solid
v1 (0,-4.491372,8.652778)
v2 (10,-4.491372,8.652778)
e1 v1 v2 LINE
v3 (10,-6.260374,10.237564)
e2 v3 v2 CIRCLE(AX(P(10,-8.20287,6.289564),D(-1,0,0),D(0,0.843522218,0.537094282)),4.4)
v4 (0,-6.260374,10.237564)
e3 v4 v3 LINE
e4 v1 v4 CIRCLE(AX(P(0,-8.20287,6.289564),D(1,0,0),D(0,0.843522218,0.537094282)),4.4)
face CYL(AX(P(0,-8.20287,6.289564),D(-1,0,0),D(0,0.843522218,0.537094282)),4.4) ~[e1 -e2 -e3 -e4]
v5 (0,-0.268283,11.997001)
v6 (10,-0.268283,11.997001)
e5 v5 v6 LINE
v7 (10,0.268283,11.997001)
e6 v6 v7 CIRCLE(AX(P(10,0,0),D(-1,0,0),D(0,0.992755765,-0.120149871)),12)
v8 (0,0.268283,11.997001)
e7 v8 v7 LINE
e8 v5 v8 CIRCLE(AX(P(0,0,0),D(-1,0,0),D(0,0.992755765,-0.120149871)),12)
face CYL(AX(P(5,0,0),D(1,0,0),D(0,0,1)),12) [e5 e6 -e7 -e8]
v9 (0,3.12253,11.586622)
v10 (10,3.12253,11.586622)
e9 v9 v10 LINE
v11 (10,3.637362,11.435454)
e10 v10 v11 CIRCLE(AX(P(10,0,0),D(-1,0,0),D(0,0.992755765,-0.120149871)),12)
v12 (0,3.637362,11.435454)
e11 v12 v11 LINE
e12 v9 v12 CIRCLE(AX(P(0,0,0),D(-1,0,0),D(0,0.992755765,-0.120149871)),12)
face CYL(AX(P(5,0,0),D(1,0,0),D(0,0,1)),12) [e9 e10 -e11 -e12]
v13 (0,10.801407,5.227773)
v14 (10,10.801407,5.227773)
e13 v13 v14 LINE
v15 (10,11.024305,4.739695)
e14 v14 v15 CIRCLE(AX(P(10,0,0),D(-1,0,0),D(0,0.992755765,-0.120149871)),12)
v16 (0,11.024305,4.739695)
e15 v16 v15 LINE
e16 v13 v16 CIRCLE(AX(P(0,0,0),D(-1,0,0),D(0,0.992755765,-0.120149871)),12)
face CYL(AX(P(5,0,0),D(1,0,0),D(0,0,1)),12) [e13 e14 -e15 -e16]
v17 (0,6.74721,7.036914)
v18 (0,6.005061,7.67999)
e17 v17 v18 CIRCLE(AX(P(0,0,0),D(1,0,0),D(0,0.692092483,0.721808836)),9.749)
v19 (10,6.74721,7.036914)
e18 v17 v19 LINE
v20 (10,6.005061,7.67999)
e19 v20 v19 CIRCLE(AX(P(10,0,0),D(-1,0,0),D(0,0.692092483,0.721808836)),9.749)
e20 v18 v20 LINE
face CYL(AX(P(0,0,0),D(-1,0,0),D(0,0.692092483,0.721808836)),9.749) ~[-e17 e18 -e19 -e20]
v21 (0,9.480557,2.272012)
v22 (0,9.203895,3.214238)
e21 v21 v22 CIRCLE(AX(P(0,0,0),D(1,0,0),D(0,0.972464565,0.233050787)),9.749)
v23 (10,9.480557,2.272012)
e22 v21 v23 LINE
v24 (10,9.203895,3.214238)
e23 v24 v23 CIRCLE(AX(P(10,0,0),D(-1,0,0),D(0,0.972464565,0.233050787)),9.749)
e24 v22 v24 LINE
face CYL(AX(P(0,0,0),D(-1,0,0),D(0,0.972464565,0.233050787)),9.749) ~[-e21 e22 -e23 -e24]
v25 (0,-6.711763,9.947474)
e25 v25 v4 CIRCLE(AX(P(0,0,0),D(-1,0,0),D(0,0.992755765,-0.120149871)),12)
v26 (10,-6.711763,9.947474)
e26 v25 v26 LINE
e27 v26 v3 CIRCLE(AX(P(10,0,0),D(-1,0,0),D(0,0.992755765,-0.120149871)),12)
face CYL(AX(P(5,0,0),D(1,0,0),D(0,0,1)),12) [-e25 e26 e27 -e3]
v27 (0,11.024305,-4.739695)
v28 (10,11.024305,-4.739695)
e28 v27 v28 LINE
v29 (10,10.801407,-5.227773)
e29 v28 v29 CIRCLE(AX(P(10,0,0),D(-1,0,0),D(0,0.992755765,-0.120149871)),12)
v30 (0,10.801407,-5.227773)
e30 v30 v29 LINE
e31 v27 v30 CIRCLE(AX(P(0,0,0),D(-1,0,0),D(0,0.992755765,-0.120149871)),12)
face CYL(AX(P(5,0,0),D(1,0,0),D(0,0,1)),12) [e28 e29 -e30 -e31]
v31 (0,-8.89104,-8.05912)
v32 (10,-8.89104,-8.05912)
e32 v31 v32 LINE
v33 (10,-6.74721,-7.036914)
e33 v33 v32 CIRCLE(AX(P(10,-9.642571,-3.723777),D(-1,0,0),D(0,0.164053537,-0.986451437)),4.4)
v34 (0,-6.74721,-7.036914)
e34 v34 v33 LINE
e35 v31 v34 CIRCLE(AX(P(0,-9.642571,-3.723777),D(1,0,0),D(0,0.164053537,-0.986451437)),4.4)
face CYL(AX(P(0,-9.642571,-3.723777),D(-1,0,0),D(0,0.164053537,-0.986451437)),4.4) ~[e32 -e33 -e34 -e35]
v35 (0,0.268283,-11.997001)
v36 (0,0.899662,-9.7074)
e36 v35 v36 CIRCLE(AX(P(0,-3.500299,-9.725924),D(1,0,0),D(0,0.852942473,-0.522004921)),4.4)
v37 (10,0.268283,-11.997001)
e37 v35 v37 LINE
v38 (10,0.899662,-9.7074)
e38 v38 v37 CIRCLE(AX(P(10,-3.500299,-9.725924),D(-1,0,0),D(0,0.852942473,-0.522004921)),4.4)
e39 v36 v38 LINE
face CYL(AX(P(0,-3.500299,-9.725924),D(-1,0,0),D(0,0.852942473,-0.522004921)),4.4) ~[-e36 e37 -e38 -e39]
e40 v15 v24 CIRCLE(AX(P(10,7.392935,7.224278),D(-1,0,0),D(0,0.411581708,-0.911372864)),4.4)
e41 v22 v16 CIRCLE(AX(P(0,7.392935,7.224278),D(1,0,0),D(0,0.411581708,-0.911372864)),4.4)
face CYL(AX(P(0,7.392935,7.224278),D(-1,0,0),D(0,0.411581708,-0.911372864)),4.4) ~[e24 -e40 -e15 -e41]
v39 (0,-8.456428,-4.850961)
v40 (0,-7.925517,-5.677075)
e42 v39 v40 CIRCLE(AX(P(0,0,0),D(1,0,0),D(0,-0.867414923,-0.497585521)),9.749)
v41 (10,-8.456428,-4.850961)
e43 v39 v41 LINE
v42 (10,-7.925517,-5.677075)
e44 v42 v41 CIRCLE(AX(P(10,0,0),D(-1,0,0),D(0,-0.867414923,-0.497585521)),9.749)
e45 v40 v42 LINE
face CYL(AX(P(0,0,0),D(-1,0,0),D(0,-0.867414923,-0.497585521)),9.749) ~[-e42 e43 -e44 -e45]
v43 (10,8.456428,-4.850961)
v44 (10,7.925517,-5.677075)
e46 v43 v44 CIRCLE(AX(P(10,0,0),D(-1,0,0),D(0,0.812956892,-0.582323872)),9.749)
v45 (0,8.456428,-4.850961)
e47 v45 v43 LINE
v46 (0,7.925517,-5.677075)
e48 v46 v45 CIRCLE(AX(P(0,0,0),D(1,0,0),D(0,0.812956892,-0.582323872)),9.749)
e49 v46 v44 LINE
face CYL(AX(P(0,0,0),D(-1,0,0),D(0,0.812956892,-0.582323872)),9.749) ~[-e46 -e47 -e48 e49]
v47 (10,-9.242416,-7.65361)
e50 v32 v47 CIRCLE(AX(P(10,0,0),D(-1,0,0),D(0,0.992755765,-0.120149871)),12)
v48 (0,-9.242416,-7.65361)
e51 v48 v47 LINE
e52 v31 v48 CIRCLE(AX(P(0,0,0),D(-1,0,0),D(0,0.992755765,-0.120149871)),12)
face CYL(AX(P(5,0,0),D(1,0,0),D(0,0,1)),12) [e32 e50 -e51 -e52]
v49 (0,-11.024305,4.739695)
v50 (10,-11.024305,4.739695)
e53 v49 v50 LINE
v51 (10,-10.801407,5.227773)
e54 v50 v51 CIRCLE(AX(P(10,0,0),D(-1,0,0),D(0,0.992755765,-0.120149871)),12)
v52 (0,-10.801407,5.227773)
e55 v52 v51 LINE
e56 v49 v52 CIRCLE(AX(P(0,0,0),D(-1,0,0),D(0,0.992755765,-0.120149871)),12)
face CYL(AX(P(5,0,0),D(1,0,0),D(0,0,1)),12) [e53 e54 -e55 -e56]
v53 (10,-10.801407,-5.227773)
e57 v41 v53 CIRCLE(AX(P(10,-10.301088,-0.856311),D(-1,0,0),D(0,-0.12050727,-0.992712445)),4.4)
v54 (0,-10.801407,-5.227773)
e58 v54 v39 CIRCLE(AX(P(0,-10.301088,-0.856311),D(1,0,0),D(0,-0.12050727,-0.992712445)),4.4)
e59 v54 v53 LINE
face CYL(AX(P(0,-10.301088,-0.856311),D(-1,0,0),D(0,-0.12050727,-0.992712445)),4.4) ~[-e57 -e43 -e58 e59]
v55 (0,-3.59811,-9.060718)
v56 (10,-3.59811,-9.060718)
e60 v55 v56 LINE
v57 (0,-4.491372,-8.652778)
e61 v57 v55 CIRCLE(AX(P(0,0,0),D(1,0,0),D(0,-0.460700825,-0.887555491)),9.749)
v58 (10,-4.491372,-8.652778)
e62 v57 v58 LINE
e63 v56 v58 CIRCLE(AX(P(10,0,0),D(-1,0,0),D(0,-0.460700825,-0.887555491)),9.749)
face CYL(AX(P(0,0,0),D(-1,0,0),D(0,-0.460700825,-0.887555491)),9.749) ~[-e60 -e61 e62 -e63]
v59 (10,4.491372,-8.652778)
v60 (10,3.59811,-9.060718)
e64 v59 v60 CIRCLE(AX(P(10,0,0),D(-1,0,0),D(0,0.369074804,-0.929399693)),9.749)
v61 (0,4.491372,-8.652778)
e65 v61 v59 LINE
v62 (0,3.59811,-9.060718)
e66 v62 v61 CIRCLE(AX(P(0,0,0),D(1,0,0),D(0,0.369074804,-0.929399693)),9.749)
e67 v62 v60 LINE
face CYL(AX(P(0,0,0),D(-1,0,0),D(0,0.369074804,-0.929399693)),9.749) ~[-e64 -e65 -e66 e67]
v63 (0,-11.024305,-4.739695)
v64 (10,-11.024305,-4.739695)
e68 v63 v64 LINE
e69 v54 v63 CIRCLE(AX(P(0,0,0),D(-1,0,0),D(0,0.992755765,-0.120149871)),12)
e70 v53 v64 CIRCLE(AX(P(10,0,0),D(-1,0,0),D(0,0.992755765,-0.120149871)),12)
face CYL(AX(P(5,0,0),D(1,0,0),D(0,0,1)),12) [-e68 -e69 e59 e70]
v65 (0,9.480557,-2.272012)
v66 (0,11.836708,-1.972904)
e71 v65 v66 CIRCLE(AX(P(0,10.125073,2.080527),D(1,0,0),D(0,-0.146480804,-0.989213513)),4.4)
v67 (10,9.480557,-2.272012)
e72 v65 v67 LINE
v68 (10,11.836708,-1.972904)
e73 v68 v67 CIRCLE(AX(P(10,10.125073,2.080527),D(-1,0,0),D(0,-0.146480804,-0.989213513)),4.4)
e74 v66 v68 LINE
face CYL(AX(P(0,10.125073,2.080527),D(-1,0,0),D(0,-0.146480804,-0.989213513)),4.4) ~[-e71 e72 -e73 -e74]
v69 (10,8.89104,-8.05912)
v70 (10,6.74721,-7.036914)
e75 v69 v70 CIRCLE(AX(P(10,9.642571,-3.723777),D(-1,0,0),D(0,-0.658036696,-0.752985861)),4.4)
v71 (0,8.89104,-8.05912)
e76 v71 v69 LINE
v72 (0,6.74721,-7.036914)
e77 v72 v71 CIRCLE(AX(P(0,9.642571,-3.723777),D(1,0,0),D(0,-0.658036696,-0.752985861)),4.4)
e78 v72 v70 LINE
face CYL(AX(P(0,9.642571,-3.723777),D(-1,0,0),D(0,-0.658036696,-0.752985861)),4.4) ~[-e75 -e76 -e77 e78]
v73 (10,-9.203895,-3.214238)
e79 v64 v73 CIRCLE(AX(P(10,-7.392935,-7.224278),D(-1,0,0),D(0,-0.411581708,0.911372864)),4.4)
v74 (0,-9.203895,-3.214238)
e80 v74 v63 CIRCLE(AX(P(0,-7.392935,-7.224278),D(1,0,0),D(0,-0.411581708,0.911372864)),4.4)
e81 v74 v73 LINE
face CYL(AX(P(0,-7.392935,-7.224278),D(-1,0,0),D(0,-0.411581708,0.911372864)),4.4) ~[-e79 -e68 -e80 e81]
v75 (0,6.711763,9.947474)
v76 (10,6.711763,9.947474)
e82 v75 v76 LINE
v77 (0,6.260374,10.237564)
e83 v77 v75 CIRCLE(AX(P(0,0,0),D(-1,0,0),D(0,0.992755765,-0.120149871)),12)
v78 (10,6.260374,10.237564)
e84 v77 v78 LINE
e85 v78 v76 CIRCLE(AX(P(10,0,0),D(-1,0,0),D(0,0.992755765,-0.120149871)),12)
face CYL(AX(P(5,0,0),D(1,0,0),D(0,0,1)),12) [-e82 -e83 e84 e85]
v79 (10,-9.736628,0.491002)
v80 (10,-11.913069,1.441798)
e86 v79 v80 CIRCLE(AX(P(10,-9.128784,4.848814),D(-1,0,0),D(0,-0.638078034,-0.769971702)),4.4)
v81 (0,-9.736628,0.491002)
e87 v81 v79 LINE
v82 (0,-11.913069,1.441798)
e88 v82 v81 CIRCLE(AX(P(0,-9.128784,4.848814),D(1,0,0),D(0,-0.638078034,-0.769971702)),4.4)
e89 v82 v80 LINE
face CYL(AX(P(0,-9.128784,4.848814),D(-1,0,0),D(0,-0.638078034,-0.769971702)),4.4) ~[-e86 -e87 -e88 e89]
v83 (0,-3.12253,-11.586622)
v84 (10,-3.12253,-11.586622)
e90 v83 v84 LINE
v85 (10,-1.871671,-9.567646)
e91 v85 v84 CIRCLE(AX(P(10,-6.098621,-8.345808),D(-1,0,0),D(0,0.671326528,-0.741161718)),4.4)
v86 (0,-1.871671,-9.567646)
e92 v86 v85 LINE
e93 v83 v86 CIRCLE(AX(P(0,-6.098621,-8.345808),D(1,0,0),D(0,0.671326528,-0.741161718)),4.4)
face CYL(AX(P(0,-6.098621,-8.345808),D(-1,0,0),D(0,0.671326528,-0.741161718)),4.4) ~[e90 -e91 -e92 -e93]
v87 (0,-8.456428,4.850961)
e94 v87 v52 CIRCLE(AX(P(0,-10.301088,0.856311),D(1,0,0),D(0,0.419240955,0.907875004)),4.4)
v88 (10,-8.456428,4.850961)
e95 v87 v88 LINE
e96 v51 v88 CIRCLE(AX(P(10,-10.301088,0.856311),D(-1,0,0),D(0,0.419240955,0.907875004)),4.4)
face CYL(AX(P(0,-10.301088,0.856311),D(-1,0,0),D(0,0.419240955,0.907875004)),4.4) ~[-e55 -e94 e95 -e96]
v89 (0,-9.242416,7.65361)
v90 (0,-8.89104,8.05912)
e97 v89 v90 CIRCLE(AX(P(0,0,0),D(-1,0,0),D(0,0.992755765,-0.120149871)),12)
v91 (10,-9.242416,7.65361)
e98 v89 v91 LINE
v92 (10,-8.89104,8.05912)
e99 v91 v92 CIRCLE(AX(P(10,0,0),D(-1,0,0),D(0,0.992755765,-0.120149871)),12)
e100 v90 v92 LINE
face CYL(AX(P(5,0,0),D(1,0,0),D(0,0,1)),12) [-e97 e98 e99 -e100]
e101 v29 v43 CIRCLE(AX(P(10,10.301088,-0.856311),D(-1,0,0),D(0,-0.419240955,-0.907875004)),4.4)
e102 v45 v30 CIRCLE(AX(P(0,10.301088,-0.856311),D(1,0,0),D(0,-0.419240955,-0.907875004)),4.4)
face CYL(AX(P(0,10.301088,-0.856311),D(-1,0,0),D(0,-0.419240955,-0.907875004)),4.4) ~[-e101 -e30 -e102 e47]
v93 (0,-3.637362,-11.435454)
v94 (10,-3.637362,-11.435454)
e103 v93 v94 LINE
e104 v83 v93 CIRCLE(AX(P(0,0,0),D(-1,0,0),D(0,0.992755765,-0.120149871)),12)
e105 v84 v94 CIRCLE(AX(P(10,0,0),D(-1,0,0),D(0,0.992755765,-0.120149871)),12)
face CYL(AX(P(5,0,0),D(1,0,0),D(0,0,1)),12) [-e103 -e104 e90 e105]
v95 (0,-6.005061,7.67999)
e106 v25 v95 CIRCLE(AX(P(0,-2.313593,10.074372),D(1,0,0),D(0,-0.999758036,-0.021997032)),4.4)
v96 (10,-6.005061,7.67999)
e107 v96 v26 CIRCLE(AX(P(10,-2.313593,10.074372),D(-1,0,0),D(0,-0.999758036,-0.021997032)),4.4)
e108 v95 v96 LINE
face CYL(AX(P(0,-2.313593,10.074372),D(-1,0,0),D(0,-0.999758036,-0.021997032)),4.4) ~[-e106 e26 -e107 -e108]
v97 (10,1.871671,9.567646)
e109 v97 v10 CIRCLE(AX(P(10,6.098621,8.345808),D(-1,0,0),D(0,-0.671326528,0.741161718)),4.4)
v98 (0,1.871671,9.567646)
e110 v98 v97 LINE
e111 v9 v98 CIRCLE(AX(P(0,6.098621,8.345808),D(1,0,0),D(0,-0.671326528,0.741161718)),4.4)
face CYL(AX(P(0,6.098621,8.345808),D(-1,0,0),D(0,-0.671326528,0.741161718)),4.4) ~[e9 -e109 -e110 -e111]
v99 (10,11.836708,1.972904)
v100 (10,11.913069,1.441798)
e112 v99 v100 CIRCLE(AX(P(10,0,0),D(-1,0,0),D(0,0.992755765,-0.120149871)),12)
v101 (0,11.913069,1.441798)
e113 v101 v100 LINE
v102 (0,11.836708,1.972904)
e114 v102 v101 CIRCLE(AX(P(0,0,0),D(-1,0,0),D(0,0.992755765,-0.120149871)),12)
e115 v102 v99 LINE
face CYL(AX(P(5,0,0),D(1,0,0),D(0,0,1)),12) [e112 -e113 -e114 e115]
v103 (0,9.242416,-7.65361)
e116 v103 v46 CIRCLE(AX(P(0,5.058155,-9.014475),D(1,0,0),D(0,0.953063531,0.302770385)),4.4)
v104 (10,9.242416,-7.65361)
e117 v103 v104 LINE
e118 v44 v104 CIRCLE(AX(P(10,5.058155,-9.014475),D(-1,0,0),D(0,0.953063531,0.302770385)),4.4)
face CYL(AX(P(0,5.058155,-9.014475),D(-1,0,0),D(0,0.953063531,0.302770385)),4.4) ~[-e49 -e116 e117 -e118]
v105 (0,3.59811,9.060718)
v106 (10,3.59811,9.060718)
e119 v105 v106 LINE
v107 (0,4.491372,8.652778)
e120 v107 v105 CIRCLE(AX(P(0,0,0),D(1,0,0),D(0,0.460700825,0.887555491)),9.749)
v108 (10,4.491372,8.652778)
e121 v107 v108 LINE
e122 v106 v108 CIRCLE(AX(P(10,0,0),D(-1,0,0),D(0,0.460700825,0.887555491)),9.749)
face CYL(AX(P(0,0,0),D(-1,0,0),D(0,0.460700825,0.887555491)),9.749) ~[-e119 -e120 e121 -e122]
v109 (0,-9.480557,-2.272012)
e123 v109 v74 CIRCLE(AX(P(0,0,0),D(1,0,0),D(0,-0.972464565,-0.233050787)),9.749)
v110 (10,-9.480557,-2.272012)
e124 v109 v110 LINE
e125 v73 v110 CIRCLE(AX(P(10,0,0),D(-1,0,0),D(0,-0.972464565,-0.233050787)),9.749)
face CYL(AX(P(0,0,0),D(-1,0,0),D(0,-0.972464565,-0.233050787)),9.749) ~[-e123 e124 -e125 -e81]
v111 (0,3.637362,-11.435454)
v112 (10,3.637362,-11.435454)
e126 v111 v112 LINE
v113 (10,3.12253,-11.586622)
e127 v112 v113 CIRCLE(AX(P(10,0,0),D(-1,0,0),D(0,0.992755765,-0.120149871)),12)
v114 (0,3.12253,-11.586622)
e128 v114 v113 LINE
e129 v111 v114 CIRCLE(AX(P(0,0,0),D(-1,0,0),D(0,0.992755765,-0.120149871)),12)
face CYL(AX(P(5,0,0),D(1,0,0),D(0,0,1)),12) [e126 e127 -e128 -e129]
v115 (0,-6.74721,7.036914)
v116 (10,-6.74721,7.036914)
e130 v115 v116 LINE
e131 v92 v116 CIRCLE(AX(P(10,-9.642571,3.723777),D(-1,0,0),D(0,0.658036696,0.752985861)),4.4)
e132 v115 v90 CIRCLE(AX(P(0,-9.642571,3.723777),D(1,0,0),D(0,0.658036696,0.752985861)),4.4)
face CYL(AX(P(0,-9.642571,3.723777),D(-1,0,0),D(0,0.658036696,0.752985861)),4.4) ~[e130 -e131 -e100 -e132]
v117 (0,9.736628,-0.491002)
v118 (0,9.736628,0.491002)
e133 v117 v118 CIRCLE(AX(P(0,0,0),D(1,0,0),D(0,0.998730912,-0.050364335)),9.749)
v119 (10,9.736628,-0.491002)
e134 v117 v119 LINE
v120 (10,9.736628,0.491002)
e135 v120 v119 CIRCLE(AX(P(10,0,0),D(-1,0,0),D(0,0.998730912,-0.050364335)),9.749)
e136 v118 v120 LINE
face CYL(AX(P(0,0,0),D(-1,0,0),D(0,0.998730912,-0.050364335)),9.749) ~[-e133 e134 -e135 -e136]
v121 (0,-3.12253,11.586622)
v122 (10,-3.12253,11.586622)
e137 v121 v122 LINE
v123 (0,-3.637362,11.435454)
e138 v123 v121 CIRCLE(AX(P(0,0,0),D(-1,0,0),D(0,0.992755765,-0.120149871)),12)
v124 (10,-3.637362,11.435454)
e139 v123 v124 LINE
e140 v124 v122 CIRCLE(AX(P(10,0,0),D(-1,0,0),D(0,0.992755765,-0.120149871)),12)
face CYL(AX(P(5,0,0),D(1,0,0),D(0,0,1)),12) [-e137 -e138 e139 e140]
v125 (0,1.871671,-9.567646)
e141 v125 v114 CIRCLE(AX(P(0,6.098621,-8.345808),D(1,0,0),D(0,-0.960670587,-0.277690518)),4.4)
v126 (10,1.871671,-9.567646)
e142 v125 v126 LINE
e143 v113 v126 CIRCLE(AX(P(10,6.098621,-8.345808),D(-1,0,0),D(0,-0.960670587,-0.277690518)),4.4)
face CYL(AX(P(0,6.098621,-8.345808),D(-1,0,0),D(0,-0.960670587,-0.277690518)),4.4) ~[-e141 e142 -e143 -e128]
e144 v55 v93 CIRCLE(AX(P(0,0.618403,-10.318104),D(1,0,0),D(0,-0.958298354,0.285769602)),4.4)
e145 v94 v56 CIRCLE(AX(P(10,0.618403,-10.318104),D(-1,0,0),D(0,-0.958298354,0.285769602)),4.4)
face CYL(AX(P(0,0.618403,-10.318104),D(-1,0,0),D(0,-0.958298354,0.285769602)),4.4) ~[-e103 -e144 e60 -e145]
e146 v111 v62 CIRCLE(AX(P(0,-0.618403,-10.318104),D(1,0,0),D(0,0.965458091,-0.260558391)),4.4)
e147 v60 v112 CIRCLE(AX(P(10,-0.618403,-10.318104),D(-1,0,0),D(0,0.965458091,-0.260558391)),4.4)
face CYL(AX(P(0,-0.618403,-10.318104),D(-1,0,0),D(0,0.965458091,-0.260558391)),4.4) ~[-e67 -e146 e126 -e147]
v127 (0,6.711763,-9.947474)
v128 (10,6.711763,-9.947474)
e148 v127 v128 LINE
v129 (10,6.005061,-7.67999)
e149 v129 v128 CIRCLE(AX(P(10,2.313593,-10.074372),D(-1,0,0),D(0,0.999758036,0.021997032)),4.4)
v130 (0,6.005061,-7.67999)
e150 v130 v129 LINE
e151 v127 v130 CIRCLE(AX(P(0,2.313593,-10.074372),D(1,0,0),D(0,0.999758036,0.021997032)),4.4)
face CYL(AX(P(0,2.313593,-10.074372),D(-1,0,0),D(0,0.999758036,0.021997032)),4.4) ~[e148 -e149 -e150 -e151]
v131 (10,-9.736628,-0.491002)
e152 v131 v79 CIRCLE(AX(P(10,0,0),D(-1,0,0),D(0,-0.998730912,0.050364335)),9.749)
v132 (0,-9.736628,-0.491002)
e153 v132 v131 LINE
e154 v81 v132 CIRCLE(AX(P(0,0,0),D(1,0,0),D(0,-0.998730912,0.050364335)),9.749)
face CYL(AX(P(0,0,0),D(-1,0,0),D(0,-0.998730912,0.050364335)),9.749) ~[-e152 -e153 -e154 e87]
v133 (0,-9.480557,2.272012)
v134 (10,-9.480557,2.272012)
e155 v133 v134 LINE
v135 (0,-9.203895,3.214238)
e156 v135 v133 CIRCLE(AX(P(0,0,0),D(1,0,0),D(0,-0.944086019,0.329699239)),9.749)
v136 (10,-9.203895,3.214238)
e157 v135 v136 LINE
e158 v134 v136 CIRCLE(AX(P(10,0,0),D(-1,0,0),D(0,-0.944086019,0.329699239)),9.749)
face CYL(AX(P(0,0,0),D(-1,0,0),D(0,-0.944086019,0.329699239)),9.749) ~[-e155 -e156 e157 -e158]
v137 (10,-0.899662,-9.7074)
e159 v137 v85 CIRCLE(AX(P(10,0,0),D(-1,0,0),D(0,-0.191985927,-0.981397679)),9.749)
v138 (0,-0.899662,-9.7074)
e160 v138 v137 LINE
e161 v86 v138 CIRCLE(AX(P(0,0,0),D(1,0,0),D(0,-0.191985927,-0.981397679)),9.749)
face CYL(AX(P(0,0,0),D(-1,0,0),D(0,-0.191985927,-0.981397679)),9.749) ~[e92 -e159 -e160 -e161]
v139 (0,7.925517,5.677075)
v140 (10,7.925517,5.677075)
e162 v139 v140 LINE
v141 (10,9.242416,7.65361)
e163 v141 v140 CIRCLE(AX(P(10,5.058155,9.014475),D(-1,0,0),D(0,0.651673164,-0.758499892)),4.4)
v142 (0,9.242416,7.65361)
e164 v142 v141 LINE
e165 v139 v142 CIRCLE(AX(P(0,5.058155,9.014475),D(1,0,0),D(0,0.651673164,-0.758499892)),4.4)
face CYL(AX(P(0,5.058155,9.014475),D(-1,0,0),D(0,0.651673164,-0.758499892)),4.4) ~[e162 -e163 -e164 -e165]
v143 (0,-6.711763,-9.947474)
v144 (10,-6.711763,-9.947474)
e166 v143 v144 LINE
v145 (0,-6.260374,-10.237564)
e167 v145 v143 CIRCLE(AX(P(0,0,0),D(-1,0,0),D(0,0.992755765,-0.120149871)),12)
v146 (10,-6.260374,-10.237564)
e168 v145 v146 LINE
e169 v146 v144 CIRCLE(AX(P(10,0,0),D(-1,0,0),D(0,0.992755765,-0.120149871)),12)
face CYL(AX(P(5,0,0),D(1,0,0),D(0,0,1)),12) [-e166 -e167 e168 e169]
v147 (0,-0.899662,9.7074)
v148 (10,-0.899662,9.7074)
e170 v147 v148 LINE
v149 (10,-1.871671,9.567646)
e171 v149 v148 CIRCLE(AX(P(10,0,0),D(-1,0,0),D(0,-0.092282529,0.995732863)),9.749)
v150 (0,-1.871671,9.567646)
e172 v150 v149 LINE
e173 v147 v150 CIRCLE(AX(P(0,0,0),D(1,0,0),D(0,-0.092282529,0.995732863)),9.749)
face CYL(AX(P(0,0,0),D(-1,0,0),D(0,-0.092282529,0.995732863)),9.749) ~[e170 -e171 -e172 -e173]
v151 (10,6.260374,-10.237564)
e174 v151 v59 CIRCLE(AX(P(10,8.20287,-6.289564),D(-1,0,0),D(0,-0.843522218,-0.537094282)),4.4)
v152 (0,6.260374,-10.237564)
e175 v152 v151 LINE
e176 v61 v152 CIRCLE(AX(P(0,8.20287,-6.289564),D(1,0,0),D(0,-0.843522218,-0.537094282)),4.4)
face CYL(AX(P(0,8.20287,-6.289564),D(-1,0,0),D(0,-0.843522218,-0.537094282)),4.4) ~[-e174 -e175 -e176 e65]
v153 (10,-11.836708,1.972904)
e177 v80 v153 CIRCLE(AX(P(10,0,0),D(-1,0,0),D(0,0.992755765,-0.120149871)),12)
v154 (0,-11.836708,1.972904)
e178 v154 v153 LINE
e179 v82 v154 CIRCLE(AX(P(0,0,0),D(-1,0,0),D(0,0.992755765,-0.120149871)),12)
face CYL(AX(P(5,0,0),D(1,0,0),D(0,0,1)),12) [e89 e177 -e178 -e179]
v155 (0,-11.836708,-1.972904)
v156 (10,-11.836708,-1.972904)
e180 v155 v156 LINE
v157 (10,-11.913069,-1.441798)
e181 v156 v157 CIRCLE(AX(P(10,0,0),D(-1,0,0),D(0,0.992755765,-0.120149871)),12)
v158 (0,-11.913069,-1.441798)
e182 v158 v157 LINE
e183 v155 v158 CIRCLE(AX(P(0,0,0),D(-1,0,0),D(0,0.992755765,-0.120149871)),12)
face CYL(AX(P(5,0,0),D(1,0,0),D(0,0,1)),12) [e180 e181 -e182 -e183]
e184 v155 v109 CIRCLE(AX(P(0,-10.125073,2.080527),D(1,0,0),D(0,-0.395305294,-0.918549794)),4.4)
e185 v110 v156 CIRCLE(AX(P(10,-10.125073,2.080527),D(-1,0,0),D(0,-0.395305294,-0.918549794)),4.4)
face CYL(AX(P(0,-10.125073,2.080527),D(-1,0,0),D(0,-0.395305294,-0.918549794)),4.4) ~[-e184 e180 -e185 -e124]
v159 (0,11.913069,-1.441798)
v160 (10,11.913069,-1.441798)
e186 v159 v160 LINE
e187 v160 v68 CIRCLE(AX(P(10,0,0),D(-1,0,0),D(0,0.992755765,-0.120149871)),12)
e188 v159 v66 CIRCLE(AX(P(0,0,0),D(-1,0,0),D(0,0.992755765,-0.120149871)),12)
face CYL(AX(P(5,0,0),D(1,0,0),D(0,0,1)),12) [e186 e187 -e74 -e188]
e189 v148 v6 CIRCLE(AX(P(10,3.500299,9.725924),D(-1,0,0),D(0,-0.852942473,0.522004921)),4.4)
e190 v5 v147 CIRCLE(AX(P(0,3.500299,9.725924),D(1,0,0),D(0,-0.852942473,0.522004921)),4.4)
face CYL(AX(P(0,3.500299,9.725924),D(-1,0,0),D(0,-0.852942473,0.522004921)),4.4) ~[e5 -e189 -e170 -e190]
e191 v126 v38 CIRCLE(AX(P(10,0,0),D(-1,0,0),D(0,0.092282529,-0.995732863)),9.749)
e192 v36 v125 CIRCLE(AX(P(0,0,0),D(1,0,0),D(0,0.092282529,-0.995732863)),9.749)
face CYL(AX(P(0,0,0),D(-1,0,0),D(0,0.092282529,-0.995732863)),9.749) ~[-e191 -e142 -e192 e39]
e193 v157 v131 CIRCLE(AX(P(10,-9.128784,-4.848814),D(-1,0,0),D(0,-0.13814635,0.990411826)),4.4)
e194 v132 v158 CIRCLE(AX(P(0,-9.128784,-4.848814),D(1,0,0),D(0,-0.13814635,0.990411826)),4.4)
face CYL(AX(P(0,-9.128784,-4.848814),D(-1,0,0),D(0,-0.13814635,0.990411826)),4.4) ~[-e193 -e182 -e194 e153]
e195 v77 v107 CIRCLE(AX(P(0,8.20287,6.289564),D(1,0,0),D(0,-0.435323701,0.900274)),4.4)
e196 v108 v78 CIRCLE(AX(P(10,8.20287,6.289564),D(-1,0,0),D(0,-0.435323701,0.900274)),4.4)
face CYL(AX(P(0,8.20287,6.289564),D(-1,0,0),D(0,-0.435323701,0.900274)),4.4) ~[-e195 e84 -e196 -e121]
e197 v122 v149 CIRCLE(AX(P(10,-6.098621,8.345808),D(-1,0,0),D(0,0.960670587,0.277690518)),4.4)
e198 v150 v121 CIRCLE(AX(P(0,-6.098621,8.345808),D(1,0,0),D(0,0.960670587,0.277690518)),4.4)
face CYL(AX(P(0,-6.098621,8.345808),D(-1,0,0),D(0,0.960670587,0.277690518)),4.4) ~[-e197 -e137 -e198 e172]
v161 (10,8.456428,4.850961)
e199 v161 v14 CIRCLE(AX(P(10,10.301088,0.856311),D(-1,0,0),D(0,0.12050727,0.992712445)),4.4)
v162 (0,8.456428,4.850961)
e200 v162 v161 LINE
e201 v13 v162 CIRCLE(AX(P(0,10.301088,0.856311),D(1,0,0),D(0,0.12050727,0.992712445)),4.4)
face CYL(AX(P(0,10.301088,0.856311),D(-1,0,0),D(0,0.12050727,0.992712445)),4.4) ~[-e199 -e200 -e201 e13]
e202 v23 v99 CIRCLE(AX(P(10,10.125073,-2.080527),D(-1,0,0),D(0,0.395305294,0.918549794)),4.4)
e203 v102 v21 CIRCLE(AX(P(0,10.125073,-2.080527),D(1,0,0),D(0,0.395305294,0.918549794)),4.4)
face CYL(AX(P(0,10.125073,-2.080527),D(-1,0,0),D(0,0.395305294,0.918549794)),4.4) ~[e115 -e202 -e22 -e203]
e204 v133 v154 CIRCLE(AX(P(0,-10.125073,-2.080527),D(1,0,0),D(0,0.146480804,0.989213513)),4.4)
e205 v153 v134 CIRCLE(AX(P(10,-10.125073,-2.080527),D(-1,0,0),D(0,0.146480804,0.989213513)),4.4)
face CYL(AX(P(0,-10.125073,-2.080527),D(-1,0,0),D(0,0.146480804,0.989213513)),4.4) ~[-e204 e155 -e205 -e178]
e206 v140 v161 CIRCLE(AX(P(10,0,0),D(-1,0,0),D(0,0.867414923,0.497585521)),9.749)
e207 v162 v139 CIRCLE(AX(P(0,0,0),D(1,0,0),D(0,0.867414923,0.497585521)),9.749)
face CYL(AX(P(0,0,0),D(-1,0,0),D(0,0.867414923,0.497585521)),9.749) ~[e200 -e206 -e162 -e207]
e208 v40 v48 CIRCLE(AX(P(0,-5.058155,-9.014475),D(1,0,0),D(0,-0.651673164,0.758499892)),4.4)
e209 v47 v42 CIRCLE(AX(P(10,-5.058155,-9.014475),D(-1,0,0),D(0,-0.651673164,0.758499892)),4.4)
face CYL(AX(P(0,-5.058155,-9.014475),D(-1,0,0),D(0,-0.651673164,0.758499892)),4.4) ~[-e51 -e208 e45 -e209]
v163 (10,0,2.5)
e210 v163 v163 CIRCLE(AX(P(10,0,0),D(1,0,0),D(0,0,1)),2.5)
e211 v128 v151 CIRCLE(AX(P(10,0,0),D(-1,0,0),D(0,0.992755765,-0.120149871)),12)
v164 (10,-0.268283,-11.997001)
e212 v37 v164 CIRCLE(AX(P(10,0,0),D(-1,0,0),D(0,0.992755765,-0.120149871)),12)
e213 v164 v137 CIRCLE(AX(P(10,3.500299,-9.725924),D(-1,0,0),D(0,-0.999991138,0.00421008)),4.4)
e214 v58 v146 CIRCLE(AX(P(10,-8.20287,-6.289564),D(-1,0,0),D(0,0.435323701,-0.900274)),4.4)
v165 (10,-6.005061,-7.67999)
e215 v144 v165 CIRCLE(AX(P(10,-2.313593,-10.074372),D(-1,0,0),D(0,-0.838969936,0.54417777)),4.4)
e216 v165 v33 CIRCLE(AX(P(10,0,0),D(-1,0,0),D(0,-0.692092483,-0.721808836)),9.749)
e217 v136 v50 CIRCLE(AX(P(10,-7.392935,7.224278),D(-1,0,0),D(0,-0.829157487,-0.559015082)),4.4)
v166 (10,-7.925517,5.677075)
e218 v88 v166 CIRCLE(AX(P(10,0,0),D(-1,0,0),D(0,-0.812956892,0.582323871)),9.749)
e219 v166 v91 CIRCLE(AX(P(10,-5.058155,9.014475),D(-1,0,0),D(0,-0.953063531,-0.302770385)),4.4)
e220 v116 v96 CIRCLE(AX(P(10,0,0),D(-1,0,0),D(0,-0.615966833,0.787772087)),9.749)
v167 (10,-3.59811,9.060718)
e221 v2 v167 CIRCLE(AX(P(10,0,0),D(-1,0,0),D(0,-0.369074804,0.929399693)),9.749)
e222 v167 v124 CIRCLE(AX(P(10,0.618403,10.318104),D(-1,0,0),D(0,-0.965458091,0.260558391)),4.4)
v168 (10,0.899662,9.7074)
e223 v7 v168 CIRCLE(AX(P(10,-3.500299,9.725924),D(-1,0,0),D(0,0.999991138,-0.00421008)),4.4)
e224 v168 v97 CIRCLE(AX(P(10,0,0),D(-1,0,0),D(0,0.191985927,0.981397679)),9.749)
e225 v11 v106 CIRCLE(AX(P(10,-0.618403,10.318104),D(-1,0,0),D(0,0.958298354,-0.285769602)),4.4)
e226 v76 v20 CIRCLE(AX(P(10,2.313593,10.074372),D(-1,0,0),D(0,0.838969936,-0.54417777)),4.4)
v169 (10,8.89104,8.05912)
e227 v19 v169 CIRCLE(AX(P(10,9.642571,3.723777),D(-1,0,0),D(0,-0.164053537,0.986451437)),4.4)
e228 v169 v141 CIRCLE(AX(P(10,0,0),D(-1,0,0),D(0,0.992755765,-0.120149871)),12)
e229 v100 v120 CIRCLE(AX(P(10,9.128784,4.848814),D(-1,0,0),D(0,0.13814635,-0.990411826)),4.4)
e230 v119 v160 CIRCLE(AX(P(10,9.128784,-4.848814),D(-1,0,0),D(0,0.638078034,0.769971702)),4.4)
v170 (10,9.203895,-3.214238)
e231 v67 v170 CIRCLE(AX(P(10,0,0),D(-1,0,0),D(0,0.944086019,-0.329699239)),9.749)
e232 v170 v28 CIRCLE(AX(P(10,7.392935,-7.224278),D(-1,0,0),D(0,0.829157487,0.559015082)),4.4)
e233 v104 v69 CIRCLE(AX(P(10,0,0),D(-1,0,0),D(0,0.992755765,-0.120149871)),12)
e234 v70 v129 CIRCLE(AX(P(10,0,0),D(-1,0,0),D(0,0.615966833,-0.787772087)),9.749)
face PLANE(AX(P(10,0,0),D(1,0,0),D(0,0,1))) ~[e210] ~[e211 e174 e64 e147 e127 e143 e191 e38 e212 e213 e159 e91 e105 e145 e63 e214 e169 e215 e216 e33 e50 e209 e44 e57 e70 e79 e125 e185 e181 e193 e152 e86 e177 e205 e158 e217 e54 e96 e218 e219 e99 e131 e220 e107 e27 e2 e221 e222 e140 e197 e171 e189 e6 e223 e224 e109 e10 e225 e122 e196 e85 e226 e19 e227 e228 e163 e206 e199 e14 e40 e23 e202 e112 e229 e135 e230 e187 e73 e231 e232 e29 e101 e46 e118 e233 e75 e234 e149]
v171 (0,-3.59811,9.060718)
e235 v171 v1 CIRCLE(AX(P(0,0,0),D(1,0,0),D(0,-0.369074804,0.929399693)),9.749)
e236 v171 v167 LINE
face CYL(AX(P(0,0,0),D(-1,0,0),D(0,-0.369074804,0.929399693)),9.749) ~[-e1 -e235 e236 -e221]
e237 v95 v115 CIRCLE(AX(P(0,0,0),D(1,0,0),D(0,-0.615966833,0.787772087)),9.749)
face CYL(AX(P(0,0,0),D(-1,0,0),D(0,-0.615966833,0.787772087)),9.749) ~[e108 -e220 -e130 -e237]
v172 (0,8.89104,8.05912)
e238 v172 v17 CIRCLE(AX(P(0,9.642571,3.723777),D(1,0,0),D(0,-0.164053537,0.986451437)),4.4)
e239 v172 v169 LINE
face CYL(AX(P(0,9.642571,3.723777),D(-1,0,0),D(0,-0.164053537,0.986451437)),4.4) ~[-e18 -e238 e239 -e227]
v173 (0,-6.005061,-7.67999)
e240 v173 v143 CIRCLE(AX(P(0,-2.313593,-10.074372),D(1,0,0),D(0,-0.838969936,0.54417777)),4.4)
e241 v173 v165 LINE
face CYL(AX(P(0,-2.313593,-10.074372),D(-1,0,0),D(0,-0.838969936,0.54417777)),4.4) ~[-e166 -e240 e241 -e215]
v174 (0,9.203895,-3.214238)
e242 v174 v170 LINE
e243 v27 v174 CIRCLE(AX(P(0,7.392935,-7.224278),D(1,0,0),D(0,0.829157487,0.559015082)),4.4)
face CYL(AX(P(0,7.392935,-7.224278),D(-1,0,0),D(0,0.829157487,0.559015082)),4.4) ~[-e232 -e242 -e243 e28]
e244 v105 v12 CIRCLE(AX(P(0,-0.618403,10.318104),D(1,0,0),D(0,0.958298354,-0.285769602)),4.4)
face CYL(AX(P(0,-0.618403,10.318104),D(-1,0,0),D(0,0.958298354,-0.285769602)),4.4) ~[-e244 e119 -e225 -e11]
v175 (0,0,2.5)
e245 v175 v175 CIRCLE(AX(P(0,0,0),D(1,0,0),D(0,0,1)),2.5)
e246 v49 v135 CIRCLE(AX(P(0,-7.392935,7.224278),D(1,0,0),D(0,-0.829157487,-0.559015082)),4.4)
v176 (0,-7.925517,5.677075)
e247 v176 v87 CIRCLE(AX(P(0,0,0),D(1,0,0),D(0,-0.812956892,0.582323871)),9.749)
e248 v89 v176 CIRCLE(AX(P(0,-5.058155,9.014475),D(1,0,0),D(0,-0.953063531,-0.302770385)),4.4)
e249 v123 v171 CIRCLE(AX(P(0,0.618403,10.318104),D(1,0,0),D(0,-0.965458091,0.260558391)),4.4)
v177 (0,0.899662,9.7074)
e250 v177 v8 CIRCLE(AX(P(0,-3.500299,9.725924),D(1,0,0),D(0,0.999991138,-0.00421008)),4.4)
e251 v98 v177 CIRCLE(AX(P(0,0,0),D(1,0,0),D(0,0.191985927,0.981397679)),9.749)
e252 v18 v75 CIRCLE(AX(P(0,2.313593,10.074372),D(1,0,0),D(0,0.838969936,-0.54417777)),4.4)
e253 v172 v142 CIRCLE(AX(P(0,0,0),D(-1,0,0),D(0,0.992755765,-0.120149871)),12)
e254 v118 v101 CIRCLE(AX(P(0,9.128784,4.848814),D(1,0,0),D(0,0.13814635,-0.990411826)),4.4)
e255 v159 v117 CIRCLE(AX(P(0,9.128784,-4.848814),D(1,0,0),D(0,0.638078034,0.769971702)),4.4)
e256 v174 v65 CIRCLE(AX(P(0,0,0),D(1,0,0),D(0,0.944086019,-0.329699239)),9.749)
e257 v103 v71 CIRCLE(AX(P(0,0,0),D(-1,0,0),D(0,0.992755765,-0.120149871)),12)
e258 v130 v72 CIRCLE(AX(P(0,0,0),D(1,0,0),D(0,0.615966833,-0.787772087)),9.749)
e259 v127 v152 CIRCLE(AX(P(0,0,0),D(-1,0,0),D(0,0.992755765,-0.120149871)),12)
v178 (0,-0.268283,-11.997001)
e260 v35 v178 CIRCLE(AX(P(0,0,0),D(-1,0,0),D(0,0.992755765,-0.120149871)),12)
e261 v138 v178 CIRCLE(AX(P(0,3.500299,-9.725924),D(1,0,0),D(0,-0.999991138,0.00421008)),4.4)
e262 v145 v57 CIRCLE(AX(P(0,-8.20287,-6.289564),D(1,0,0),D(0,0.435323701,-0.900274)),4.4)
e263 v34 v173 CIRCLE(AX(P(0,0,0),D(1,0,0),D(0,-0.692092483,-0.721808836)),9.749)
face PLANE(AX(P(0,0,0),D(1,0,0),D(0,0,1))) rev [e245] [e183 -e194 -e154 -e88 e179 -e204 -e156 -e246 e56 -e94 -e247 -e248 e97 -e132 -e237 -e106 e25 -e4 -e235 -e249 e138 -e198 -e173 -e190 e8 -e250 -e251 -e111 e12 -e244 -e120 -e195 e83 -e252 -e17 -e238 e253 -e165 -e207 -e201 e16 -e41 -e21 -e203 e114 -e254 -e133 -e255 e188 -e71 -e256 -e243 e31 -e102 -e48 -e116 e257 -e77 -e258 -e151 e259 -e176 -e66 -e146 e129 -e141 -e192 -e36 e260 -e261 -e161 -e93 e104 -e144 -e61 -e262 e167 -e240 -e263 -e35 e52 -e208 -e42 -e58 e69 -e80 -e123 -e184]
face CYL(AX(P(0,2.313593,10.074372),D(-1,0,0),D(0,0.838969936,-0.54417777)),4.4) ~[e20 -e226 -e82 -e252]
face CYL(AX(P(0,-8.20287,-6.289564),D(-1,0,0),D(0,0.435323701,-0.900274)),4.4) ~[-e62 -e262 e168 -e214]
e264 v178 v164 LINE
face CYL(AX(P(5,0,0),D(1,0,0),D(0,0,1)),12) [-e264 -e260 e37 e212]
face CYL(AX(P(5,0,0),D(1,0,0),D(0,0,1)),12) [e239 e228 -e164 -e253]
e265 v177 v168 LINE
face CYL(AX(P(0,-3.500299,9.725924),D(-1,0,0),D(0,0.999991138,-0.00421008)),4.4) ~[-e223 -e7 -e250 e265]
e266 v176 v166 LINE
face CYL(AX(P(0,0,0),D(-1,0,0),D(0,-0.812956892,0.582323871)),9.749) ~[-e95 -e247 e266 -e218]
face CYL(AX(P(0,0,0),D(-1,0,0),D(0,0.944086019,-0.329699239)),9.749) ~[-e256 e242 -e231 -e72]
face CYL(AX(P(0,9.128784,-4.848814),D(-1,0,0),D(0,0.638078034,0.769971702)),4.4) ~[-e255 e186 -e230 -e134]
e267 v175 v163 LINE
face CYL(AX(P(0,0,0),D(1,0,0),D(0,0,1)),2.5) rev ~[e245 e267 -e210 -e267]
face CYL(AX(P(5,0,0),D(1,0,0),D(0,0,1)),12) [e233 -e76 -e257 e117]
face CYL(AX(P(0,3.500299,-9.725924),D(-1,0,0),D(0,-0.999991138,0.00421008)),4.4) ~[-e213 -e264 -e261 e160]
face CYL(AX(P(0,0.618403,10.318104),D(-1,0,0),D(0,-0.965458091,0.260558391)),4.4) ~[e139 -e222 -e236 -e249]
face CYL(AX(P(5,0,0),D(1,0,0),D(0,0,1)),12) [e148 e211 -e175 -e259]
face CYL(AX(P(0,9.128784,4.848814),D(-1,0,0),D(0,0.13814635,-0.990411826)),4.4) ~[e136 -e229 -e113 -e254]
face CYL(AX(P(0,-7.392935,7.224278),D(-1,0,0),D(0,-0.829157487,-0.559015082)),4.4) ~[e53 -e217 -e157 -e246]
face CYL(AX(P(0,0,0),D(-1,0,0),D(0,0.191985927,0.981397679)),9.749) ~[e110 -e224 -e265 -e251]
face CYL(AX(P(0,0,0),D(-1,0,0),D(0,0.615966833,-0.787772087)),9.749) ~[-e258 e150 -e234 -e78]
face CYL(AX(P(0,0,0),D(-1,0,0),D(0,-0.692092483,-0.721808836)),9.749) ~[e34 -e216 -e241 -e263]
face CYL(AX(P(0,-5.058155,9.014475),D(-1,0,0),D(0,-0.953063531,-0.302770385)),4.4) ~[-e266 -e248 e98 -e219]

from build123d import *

# Parameters (mm, degrees)
BASPROSKE_W     = 10
BASPROSKE_H     = 12
TOOTHCUT_DEPTH  = 20.697715604
TEETHCUTS_COUNT = 22
TEETHCUTS_ANGLE = 343.636363636
BORSKE_R        = 2.5
BORE_DEPTH      = 50.0000508


with BuildPart() as part:
    # BasProSke → Base-Revolve (revolve)
    with BuildSketch(Plane(origin=(0, 0, 0), x_dir=(1, 0, 0), z_dir=(0, 1, 0)), mode=Mode.PRIVATE) as base_revolve_sk:
        with Locations((5, 6)):
            Rectangle(BASPROSKE_W, BASPROSKE_H)
    revolve(base_revolve_sk.sketch.rotate(Axis((-10, 0, 0), (1, 0, 0)), 180), axis=Axis((-10, 0, 0), (1, 0, 0)))

    # TooCutSke → ToothCut (cut, through all)
    with BuildSketch(Plane(origin=(0, 0, 0), x_dir=(0, 0, -1), z_dir=(1, 0, 0))):
        with BuildLine():
            ThreePointArc((0.491001901, 9.736627657), (0, 9.749), (-0.491001901, 9.736627657))
            ThreePointArc((-0.491001901, 9.736627657), (-0.822824844, 10.904005344), (-1.46093845, 11.936327074))
            ThreePointArc((-1.46093845, 11.936327074), (0, 12.0254), (1.46093845, 11.936327074))
            ThreePointArc((1.46093845, 11.936327074), (0.822824844, 10.904005344), (0.491001901, 9.736627657))
        make_face()
    toothcut = extrude(amount=TOOTHCUT_DEPTH, mode=Mode.SUBTRACT)

    # TeethCuts: ToothCut ×22 about axis
    teethcuts_axis = Axis((-10, 0, 0), (1, 0, 0))
    for i in range(1, TEETHCUTS_COUNT):
        add(toothcut.rotate(teethcuts_axis, i * TEETHCUTS_ANGLE / (TEETHCUTS_COUNT - 1)), mode=Mode.SUBTRACT)

    # BorSke → Bore (cut, symmetric)
    with BuildSketch(Plane(origin=(0, 0, 0), x_dir=(0, 0, -1), z_dir=(1, 0, 0))):
        with Locations(Location((0, 0, 0), (0, 0, 180))):
            Circle(BORSKE_R)
    extrude(amount=BORE_DEPTH, both=True, mode=Mode.SUBTRACT)


solid = part.part
